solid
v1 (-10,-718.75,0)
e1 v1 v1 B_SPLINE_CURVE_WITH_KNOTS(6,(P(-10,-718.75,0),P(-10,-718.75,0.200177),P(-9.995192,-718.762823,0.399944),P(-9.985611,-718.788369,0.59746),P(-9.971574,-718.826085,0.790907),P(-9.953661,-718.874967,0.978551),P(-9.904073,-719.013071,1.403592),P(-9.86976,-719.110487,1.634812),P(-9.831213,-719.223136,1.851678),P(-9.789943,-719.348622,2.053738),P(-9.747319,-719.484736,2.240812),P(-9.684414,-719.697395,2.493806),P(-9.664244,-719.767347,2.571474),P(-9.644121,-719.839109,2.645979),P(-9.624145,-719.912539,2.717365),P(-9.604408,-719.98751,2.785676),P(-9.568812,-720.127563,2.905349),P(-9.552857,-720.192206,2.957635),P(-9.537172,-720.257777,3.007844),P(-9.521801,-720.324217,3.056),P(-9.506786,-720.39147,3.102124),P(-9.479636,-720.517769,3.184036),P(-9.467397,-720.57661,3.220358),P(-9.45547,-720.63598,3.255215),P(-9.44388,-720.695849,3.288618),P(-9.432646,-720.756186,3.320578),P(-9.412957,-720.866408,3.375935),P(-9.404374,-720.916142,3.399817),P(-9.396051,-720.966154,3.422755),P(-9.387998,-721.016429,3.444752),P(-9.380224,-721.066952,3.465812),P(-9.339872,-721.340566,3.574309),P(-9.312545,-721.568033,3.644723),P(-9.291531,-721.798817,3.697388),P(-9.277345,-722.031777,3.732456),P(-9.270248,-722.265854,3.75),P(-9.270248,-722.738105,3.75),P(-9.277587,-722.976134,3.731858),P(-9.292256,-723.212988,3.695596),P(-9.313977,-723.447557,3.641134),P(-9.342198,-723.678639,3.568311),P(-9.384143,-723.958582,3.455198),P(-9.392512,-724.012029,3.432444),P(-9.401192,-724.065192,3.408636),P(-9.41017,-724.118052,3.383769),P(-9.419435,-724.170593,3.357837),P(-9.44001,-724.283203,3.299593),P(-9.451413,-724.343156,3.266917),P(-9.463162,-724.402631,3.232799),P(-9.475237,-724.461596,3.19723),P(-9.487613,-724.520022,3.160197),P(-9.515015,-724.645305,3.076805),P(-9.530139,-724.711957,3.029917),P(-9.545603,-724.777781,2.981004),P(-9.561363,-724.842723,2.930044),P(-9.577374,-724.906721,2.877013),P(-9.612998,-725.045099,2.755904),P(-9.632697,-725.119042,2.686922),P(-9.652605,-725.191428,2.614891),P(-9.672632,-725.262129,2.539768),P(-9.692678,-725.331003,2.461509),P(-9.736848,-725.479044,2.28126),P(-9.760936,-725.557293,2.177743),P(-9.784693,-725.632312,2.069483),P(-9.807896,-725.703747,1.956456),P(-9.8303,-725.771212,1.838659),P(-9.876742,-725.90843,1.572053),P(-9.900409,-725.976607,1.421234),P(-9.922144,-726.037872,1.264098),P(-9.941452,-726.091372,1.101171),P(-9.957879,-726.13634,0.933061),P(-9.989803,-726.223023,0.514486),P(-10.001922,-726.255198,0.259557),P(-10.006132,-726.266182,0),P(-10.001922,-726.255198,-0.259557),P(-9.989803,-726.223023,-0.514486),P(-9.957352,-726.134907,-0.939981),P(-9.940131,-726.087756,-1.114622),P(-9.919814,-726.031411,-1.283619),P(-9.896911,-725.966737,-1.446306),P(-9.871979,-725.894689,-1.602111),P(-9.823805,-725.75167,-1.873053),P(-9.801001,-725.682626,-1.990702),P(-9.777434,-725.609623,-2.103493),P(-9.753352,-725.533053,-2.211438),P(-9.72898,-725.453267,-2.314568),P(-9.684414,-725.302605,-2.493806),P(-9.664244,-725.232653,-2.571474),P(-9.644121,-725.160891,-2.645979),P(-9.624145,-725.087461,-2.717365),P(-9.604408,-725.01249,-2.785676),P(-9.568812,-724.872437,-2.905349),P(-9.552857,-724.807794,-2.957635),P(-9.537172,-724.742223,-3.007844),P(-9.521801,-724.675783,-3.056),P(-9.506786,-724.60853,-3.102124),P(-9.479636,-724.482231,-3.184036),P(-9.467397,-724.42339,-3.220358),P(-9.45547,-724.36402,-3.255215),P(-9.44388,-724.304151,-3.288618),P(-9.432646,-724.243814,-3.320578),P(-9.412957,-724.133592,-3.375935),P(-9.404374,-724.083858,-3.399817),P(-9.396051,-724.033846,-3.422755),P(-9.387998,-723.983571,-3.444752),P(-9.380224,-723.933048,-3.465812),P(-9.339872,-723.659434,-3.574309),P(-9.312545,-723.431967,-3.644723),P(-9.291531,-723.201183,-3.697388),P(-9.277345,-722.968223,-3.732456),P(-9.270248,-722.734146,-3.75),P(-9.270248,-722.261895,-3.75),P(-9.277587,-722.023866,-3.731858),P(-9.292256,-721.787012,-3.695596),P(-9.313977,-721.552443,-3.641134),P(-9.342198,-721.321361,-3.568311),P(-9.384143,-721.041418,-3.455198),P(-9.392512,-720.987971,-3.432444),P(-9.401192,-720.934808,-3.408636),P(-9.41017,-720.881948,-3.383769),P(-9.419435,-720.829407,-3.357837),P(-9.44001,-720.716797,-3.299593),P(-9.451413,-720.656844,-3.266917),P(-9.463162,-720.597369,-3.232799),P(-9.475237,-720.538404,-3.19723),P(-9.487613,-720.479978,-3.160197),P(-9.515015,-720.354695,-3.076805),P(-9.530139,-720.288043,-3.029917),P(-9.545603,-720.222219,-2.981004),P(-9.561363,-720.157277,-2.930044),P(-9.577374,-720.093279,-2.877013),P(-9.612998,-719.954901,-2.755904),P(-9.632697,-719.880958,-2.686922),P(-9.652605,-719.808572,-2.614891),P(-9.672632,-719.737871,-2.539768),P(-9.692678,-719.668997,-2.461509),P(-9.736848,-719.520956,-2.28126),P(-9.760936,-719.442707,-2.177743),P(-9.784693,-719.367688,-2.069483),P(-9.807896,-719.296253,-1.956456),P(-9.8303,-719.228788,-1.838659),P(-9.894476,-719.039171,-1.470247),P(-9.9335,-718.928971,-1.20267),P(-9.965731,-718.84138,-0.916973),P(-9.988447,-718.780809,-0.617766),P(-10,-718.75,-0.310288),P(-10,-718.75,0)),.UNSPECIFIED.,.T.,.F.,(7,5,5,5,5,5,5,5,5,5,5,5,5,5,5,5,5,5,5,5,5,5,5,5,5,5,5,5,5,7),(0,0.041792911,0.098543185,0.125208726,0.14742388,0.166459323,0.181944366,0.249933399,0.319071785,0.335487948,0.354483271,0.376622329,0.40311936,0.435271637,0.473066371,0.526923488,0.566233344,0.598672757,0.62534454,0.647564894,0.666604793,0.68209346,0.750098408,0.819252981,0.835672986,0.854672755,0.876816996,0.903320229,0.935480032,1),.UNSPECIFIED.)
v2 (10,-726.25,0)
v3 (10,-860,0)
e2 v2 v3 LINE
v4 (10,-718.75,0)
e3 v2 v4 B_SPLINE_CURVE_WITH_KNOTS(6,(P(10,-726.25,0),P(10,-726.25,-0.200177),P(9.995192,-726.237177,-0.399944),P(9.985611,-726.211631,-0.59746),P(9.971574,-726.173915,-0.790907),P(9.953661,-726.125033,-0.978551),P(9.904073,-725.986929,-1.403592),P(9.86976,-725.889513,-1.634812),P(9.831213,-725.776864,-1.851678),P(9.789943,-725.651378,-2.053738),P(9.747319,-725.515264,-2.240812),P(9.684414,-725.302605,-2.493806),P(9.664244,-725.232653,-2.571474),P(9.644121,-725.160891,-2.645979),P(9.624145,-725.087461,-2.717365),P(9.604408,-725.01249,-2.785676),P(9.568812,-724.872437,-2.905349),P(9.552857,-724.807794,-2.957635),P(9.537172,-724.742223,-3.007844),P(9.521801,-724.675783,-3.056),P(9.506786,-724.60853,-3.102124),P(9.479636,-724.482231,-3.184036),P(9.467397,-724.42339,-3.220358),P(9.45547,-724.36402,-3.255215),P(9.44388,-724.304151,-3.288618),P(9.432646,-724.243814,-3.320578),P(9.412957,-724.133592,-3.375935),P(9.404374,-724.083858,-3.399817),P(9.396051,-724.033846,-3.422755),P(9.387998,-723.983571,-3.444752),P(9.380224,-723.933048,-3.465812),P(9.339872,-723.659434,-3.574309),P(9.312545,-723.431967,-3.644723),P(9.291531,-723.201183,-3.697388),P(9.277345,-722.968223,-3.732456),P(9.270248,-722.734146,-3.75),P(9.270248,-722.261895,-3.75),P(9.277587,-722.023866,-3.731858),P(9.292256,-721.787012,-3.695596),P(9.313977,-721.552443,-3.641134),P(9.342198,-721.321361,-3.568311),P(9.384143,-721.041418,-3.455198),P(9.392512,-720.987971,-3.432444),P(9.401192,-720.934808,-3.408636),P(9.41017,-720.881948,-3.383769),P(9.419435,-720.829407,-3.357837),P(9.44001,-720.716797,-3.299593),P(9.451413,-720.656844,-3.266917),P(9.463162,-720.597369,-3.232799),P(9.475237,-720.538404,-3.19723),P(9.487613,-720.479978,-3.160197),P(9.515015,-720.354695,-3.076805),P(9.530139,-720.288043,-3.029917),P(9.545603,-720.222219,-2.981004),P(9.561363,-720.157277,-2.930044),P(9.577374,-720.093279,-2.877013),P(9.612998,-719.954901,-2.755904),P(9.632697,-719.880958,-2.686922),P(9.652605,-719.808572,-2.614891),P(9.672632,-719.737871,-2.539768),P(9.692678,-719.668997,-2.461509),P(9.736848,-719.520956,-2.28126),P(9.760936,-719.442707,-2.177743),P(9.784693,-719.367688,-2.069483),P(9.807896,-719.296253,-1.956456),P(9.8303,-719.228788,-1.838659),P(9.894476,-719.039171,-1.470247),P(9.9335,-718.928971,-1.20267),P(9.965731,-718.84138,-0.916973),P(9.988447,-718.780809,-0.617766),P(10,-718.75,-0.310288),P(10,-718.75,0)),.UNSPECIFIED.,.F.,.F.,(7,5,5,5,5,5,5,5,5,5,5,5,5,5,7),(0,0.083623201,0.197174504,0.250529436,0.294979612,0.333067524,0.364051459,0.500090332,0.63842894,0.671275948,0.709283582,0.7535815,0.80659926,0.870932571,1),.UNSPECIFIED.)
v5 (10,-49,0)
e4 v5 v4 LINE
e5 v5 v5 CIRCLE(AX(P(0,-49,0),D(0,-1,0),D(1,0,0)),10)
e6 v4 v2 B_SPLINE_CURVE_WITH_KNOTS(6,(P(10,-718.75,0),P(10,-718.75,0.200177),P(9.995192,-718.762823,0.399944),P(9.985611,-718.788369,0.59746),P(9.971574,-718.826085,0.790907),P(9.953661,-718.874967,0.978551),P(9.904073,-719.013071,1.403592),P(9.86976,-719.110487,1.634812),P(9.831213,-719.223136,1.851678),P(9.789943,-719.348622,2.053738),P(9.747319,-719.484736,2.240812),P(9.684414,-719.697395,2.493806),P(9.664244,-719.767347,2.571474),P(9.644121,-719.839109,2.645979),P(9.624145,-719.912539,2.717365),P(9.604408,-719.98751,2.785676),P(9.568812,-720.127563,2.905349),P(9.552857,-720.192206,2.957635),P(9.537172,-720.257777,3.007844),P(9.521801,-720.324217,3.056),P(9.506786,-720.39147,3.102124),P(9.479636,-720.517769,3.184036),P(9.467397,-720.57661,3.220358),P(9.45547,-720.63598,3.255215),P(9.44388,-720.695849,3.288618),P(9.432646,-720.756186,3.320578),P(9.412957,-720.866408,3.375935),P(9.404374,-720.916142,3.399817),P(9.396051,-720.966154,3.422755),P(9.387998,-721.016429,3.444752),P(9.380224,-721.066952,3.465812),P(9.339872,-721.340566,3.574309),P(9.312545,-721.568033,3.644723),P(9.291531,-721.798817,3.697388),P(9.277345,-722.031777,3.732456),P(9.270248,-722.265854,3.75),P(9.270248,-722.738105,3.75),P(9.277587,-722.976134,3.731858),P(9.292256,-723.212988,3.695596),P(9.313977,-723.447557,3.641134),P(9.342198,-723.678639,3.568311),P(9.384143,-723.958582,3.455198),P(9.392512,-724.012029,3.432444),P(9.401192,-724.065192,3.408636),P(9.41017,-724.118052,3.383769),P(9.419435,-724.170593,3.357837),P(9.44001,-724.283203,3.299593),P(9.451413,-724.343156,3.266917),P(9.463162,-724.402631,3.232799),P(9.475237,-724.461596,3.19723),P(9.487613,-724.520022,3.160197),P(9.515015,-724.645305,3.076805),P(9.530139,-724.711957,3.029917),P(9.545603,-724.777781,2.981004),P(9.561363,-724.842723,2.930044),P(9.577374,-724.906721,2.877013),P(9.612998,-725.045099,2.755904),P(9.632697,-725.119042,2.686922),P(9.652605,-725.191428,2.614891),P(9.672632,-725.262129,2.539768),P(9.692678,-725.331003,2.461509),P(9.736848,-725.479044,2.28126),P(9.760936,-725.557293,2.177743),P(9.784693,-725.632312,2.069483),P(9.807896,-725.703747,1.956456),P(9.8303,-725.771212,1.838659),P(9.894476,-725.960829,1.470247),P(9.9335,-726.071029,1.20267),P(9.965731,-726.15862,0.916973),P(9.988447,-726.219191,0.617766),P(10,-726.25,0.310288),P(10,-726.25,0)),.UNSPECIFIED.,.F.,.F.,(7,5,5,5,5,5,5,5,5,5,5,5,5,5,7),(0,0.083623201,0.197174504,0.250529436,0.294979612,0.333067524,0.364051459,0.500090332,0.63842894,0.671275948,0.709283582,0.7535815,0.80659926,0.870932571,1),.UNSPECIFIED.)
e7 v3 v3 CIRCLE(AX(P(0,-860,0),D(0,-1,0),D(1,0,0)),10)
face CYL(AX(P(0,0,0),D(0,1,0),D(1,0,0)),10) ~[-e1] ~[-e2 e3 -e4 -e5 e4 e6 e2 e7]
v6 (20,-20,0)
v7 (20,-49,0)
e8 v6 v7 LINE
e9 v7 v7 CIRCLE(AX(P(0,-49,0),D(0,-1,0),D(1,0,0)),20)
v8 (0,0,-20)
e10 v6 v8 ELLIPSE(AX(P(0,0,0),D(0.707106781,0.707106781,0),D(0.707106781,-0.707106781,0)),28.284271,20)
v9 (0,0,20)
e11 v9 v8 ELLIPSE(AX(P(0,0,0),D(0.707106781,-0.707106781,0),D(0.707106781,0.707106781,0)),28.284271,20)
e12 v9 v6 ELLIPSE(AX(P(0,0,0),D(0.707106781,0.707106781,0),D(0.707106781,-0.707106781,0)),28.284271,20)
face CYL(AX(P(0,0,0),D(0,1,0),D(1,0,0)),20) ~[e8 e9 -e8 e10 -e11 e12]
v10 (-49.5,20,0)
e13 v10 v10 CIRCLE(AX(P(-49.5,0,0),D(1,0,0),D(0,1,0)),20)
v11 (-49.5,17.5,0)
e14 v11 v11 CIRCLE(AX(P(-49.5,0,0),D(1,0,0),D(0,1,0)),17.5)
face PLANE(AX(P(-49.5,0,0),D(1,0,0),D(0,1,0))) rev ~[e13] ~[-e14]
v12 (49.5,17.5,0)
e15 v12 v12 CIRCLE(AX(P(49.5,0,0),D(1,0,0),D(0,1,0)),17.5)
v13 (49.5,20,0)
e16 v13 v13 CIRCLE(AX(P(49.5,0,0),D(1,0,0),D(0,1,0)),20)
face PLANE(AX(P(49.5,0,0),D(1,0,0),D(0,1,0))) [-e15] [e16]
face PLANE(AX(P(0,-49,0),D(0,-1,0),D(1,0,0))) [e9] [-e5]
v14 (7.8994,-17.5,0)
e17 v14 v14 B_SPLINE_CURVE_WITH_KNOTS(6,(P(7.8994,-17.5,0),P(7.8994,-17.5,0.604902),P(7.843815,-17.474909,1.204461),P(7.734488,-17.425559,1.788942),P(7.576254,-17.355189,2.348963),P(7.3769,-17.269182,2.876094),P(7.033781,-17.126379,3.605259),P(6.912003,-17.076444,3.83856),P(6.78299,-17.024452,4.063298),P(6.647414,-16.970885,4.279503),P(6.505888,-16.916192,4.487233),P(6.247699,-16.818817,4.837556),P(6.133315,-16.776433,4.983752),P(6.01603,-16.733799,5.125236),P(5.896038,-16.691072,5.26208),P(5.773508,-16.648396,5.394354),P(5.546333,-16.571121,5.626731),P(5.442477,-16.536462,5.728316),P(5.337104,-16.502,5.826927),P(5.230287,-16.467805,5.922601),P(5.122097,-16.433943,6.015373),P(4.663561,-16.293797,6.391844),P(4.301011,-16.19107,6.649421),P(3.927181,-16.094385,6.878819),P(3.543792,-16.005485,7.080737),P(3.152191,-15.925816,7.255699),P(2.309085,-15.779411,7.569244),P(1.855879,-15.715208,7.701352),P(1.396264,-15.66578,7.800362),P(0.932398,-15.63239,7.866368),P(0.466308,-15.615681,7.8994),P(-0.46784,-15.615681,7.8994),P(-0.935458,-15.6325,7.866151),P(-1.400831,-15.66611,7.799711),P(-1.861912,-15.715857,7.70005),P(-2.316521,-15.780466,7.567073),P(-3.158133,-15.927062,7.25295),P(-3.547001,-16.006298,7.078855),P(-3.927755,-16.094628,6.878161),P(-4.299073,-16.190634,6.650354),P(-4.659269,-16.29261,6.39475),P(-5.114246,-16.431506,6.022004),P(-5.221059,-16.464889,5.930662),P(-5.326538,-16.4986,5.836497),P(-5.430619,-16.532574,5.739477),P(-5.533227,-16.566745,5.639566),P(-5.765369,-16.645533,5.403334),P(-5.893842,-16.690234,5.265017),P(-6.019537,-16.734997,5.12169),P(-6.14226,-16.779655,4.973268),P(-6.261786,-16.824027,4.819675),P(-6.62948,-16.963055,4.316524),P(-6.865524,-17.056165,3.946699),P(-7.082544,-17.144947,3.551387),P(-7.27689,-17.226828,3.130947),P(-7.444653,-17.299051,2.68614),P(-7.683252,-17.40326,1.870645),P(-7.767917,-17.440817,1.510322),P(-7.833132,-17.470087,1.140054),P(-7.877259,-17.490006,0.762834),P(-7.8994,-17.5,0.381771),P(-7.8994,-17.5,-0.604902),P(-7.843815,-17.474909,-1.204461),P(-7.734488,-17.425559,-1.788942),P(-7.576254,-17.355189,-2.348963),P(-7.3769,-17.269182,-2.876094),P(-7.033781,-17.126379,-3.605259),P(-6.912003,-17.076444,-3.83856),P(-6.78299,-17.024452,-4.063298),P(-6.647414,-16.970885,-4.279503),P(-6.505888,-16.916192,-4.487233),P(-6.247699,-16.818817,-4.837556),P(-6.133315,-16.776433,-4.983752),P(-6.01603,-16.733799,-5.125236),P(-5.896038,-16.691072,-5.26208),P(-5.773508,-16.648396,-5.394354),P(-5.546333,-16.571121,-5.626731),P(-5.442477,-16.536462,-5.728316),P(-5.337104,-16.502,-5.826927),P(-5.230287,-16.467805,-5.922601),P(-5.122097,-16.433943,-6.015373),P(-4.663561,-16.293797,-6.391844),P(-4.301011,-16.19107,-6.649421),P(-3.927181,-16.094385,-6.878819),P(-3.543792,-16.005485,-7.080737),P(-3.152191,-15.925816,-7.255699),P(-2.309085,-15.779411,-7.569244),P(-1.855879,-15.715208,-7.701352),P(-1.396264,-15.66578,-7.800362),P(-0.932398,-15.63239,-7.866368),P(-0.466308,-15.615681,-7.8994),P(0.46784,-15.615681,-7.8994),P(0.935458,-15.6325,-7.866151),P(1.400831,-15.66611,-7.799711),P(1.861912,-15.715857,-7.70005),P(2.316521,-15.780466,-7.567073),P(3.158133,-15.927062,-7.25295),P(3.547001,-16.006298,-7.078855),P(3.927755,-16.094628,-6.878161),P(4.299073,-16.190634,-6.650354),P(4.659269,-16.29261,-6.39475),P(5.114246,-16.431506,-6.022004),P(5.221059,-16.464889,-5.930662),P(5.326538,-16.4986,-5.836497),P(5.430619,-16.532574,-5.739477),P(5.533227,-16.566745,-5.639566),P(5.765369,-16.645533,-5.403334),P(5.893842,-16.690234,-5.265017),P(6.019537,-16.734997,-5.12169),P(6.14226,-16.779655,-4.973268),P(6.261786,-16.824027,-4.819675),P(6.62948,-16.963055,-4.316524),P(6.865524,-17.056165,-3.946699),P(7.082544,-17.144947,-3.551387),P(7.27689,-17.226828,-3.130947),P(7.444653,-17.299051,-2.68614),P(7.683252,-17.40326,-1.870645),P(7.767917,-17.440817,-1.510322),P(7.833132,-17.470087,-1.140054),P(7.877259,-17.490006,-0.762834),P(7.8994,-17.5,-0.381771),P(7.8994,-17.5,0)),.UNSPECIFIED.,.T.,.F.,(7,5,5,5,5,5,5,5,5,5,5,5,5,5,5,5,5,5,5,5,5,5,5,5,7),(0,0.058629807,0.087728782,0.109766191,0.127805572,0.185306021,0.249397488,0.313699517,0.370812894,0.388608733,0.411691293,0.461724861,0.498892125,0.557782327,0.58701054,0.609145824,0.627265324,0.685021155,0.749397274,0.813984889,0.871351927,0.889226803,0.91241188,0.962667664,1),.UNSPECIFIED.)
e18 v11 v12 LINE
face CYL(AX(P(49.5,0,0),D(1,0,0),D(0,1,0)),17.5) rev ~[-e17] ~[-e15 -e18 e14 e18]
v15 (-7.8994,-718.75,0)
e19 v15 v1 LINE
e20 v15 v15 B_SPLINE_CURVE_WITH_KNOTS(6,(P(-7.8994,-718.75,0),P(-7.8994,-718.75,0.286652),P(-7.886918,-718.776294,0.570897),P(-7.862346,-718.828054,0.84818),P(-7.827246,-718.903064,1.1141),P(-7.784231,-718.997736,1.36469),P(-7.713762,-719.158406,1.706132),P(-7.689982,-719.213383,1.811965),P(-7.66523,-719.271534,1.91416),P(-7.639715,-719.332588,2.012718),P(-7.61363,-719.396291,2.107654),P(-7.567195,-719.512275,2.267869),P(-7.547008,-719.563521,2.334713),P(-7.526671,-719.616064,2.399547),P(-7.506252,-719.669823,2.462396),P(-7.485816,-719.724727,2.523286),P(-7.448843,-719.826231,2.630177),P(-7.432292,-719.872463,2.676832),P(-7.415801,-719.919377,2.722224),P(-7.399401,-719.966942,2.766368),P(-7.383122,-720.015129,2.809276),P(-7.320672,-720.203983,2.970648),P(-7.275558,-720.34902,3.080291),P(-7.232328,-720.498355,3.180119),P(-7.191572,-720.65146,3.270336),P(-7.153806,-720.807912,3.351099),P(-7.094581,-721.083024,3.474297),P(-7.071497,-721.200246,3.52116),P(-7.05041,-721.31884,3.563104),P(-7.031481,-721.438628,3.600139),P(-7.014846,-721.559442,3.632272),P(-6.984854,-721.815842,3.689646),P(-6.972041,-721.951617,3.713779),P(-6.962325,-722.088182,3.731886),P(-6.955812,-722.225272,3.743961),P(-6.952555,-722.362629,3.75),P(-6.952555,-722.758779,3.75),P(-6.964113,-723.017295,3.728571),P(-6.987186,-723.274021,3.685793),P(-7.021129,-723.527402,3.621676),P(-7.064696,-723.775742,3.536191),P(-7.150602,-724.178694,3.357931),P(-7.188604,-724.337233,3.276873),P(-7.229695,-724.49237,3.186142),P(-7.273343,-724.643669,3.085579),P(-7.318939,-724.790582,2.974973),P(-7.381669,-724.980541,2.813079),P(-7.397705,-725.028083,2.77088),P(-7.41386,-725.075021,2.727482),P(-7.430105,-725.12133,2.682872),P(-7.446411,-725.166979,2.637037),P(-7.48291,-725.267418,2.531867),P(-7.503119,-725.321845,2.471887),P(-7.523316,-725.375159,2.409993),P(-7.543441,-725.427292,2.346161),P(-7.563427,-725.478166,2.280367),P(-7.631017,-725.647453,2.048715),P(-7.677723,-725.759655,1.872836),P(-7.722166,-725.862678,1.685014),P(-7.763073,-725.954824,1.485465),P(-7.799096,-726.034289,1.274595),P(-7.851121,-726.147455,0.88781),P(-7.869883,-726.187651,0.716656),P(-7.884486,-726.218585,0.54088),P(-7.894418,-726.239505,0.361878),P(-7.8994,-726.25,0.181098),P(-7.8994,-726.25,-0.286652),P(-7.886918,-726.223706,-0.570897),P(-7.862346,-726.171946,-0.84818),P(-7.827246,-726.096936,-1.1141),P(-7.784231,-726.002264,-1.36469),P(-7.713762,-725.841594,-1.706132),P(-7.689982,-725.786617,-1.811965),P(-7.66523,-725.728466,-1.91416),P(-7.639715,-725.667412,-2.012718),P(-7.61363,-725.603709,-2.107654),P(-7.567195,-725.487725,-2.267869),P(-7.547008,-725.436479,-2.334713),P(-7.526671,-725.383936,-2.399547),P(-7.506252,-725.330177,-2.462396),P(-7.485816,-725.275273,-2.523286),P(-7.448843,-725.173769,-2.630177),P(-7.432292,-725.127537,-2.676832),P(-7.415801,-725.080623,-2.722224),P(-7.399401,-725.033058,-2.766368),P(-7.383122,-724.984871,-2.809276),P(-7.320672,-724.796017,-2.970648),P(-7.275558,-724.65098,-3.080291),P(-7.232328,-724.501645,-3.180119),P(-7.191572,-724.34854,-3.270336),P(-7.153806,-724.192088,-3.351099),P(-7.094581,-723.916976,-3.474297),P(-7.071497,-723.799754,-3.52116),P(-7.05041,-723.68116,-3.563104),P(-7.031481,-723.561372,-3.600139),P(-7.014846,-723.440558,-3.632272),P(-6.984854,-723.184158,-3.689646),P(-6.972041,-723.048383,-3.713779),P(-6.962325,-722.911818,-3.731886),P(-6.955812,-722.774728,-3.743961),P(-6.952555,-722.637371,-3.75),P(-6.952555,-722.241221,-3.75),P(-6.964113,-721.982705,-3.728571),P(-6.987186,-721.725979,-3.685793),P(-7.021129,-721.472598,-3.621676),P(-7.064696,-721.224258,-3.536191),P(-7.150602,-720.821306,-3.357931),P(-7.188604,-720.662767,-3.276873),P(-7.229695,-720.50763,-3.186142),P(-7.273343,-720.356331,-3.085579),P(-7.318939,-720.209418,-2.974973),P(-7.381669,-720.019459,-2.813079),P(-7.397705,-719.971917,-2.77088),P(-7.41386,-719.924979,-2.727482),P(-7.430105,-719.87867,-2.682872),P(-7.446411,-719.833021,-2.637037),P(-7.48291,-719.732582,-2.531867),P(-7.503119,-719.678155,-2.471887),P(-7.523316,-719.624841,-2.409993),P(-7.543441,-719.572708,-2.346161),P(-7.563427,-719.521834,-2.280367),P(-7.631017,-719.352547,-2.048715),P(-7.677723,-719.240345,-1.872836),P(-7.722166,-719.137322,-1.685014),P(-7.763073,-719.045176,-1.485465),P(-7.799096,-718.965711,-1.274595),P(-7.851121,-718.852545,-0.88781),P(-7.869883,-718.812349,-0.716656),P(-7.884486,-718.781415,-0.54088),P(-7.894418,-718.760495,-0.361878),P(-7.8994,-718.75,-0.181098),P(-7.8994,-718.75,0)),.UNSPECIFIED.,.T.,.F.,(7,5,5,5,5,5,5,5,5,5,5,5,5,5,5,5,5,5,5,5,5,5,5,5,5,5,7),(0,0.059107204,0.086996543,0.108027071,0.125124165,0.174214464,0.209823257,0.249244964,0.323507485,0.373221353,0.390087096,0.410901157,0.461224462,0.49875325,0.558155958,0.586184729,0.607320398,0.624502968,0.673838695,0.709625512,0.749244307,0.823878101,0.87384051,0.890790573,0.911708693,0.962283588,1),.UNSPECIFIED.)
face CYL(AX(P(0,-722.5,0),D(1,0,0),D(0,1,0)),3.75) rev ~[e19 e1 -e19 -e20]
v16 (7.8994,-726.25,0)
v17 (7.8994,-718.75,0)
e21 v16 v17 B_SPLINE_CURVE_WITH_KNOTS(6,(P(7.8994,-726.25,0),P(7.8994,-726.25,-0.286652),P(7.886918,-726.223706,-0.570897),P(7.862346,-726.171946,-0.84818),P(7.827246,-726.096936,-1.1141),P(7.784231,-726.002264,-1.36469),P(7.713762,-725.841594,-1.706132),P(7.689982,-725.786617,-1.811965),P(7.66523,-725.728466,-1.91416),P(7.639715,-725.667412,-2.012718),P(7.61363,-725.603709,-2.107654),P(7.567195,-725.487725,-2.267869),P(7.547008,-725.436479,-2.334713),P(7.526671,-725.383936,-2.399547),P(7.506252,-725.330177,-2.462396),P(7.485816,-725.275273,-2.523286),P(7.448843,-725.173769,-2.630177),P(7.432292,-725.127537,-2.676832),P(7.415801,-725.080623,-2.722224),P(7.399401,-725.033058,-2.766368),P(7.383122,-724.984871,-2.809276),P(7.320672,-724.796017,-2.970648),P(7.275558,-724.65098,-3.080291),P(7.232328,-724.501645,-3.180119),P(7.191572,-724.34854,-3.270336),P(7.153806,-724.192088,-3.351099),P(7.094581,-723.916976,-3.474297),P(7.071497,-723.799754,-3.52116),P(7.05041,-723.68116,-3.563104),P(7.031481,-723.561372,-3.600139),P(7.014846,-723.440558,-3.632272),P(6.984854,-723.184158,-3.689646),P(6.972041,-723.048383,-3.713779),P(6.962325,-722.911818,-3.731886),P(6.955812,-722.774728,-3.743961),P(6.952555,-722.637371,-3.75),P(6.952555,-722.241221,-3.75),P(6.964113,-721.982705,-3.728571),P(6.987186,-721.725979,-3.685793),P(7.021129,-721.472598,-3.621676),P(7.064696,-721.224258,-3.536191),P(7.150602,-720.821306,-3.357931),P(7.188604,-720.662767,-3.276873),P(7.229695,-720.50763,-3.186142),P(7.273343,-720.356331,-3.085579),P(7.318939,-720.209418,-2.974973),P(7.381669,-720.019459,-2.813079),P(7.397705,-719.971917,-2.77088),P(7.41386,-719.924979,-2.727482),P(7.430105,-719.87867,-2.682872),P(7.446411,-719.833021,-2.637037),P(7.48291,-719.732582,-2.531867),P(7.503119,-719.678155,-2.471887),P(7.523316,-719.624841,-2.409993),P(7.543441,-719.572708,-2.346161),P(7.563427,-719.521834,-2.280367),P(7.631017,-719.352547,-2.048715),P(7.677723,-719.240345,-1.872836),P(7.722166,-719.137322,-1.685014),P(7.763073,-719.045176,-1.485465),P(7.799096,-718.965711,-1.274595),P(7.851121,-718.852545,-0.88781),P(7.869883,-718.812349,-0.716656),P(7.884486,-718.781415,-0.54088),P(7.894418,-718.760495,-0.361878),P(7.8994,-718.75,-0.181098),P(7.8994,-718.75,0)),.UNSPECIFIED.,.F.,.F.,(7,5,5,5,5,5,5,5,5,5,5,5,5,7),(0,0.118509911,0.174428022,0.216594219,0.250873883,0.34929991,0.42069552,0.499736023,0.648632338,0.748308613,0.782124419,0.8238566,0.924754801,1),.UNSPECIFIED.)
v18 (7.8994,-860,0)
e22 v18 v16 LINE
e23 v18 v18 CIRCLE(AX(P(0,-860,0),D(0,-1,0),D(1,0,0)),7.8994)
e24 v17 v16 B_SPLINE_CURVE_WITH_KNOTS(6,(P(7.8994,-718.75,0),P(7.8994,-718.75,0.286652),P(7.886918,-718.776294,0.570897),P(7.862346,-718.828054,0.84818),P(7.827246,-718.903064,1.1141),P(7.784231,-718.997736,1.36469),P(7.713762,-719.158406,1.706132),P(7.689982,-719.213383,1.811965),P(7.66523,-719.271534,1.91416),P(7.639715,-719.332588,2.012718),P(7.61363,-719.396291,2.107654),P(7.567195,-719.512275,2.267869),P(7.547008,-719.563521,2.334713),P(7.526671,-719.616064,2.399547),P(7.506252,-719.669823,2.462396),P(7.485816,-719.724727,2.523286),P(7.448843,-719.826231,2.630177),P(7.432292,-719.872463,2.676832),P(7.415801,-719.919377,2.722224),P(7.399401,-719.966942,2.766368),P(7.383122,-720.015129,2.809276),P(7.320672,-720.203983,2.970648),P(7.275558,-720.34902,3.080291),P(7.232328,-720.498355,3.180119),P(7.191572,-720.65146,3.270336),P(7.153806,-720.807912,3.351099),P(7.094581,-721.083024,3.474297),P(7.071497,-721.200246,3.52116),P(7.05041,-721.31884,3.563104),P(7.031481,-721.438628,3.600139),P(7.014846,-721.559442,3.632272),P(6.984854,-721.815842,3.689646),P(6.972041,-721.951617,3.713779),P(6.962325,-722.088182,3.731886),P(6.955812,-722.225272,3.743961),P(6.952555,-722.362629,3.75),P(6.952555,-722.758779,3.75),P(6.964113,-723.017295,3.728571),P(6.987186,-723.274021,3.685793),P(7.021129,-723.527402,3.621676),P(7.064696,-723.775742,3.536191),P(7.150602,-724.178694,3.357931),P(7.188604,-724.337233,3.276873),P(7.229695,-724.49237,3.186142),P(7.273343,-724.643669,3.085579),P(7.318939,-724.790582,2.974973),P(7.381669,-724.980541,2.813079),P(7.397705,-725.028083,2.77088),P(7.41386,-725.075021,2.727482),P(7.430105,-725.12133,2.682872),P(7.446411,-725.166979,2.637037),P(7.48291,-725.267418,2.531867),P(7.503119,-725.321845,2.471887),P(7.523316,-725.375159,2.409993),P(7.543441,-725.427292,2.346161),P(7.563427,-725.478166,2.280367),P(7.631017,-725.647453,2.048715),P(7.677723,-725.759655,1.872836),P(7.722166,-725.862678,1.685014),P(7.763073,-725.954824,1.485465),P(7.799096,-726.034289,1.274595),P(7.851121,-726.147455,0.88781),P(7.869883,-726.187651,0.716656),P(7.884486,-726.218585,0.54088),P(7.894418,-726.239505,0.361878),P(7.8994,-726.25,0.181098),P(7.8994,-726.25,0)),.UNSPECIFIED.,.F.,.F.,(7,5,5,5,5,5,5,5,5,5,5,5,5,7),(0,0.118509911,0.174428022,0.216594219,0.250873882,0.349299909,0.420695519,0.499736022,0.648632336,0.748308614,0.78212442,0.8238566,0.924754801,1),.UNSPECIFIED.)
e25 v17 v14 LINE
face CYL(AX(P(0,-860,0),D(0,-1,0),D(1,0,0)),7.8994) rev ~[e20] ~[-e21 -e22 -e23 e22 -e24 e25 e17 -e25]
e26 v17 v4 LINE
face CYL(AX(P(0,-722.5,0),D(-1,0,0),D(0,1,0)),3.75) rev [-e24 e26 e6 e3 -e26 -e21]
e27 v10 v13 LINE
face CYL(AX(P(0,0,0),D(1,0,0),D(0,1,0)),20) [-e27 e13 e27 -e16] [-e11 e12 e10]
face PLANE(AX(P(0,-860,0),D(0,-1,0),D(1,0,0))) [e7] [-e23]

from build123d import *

# Parameters (mm, degrees)
F0_R          = 10
F1_DEPTH      = 860
F2_R          = 20
F3_DEPTH      = 49.5
F4_R          = 3.75
F5_DEPTH      = 96
F5_DEPTH_BACK = 63
F6_R          = 17.5
F7_DEPTH      = 216
F8_R          = 7.8994
F9_DEPTH      = 850
F10_R         = 20
F10_R_2       = 10
F11_DEPTH     = 49
F12_R         = 17.5
F13_DEPTH     = 133


with BuildPart() as f1:
    # F0 (on Front) → F1 (new body)
    with BuildSketch(Plane.XZ):
        Circle(F0_R)
    extrude(amount=F1_DEPTH)

    # F2 (on Right) → F3 (join, symmetric)
    with BuildSketch(Plane.YZ):
        Circle(F2_R)
    extrude(amount=F3_DEPTH, both=True)

    # F4 (on Right) → F5 (cut, two sides)
    with BuildSketch(Plane.YZ) as f5_sk:
        with Locations((-722.5, 0)):
            Circle(F4_R)
    extrude(amount=F5_DEPTH, mode=Mode.SUBTRACT)
    extrude(f5_sk.sketch, amount=-F5_DEPTH_BACK, mode=Mode.SUBTRACT)

    # F6 (on face) → F7 (cut, symmetric)
    with BuildSketch(Plane.YZ.offset(49.5)):
        Circle(F6_R)
    extrude(amount=F7_DEPTH, both=True, mode=Mode.SUBTRACT)

    # F8 (on face) → F9 (cut)
    with BuildSketch(Plane.XZ.offset(860)):
        Circle(F8_R)
    extrude(amount=-F9_DEPTH, mode=Mode.SUBTRACT)

    # F10 (on Front) → F11 (join)
    with BuildSketch(Plane.XZ):
        Circle(F10_R)
        Circle(F10_R_2, mode=Mode.SUBTRACT)
    extrude(amount=F11_DEPTH)

    # F12 (on face) → F13 (cut)
    with BuildSketch(Plane.YZ.offset(49.5)):
        Circle(F12_R)
    extrude(amount=-F13_DEPTH, mode=Mode.SUBTRACT)


solid = f1.part
